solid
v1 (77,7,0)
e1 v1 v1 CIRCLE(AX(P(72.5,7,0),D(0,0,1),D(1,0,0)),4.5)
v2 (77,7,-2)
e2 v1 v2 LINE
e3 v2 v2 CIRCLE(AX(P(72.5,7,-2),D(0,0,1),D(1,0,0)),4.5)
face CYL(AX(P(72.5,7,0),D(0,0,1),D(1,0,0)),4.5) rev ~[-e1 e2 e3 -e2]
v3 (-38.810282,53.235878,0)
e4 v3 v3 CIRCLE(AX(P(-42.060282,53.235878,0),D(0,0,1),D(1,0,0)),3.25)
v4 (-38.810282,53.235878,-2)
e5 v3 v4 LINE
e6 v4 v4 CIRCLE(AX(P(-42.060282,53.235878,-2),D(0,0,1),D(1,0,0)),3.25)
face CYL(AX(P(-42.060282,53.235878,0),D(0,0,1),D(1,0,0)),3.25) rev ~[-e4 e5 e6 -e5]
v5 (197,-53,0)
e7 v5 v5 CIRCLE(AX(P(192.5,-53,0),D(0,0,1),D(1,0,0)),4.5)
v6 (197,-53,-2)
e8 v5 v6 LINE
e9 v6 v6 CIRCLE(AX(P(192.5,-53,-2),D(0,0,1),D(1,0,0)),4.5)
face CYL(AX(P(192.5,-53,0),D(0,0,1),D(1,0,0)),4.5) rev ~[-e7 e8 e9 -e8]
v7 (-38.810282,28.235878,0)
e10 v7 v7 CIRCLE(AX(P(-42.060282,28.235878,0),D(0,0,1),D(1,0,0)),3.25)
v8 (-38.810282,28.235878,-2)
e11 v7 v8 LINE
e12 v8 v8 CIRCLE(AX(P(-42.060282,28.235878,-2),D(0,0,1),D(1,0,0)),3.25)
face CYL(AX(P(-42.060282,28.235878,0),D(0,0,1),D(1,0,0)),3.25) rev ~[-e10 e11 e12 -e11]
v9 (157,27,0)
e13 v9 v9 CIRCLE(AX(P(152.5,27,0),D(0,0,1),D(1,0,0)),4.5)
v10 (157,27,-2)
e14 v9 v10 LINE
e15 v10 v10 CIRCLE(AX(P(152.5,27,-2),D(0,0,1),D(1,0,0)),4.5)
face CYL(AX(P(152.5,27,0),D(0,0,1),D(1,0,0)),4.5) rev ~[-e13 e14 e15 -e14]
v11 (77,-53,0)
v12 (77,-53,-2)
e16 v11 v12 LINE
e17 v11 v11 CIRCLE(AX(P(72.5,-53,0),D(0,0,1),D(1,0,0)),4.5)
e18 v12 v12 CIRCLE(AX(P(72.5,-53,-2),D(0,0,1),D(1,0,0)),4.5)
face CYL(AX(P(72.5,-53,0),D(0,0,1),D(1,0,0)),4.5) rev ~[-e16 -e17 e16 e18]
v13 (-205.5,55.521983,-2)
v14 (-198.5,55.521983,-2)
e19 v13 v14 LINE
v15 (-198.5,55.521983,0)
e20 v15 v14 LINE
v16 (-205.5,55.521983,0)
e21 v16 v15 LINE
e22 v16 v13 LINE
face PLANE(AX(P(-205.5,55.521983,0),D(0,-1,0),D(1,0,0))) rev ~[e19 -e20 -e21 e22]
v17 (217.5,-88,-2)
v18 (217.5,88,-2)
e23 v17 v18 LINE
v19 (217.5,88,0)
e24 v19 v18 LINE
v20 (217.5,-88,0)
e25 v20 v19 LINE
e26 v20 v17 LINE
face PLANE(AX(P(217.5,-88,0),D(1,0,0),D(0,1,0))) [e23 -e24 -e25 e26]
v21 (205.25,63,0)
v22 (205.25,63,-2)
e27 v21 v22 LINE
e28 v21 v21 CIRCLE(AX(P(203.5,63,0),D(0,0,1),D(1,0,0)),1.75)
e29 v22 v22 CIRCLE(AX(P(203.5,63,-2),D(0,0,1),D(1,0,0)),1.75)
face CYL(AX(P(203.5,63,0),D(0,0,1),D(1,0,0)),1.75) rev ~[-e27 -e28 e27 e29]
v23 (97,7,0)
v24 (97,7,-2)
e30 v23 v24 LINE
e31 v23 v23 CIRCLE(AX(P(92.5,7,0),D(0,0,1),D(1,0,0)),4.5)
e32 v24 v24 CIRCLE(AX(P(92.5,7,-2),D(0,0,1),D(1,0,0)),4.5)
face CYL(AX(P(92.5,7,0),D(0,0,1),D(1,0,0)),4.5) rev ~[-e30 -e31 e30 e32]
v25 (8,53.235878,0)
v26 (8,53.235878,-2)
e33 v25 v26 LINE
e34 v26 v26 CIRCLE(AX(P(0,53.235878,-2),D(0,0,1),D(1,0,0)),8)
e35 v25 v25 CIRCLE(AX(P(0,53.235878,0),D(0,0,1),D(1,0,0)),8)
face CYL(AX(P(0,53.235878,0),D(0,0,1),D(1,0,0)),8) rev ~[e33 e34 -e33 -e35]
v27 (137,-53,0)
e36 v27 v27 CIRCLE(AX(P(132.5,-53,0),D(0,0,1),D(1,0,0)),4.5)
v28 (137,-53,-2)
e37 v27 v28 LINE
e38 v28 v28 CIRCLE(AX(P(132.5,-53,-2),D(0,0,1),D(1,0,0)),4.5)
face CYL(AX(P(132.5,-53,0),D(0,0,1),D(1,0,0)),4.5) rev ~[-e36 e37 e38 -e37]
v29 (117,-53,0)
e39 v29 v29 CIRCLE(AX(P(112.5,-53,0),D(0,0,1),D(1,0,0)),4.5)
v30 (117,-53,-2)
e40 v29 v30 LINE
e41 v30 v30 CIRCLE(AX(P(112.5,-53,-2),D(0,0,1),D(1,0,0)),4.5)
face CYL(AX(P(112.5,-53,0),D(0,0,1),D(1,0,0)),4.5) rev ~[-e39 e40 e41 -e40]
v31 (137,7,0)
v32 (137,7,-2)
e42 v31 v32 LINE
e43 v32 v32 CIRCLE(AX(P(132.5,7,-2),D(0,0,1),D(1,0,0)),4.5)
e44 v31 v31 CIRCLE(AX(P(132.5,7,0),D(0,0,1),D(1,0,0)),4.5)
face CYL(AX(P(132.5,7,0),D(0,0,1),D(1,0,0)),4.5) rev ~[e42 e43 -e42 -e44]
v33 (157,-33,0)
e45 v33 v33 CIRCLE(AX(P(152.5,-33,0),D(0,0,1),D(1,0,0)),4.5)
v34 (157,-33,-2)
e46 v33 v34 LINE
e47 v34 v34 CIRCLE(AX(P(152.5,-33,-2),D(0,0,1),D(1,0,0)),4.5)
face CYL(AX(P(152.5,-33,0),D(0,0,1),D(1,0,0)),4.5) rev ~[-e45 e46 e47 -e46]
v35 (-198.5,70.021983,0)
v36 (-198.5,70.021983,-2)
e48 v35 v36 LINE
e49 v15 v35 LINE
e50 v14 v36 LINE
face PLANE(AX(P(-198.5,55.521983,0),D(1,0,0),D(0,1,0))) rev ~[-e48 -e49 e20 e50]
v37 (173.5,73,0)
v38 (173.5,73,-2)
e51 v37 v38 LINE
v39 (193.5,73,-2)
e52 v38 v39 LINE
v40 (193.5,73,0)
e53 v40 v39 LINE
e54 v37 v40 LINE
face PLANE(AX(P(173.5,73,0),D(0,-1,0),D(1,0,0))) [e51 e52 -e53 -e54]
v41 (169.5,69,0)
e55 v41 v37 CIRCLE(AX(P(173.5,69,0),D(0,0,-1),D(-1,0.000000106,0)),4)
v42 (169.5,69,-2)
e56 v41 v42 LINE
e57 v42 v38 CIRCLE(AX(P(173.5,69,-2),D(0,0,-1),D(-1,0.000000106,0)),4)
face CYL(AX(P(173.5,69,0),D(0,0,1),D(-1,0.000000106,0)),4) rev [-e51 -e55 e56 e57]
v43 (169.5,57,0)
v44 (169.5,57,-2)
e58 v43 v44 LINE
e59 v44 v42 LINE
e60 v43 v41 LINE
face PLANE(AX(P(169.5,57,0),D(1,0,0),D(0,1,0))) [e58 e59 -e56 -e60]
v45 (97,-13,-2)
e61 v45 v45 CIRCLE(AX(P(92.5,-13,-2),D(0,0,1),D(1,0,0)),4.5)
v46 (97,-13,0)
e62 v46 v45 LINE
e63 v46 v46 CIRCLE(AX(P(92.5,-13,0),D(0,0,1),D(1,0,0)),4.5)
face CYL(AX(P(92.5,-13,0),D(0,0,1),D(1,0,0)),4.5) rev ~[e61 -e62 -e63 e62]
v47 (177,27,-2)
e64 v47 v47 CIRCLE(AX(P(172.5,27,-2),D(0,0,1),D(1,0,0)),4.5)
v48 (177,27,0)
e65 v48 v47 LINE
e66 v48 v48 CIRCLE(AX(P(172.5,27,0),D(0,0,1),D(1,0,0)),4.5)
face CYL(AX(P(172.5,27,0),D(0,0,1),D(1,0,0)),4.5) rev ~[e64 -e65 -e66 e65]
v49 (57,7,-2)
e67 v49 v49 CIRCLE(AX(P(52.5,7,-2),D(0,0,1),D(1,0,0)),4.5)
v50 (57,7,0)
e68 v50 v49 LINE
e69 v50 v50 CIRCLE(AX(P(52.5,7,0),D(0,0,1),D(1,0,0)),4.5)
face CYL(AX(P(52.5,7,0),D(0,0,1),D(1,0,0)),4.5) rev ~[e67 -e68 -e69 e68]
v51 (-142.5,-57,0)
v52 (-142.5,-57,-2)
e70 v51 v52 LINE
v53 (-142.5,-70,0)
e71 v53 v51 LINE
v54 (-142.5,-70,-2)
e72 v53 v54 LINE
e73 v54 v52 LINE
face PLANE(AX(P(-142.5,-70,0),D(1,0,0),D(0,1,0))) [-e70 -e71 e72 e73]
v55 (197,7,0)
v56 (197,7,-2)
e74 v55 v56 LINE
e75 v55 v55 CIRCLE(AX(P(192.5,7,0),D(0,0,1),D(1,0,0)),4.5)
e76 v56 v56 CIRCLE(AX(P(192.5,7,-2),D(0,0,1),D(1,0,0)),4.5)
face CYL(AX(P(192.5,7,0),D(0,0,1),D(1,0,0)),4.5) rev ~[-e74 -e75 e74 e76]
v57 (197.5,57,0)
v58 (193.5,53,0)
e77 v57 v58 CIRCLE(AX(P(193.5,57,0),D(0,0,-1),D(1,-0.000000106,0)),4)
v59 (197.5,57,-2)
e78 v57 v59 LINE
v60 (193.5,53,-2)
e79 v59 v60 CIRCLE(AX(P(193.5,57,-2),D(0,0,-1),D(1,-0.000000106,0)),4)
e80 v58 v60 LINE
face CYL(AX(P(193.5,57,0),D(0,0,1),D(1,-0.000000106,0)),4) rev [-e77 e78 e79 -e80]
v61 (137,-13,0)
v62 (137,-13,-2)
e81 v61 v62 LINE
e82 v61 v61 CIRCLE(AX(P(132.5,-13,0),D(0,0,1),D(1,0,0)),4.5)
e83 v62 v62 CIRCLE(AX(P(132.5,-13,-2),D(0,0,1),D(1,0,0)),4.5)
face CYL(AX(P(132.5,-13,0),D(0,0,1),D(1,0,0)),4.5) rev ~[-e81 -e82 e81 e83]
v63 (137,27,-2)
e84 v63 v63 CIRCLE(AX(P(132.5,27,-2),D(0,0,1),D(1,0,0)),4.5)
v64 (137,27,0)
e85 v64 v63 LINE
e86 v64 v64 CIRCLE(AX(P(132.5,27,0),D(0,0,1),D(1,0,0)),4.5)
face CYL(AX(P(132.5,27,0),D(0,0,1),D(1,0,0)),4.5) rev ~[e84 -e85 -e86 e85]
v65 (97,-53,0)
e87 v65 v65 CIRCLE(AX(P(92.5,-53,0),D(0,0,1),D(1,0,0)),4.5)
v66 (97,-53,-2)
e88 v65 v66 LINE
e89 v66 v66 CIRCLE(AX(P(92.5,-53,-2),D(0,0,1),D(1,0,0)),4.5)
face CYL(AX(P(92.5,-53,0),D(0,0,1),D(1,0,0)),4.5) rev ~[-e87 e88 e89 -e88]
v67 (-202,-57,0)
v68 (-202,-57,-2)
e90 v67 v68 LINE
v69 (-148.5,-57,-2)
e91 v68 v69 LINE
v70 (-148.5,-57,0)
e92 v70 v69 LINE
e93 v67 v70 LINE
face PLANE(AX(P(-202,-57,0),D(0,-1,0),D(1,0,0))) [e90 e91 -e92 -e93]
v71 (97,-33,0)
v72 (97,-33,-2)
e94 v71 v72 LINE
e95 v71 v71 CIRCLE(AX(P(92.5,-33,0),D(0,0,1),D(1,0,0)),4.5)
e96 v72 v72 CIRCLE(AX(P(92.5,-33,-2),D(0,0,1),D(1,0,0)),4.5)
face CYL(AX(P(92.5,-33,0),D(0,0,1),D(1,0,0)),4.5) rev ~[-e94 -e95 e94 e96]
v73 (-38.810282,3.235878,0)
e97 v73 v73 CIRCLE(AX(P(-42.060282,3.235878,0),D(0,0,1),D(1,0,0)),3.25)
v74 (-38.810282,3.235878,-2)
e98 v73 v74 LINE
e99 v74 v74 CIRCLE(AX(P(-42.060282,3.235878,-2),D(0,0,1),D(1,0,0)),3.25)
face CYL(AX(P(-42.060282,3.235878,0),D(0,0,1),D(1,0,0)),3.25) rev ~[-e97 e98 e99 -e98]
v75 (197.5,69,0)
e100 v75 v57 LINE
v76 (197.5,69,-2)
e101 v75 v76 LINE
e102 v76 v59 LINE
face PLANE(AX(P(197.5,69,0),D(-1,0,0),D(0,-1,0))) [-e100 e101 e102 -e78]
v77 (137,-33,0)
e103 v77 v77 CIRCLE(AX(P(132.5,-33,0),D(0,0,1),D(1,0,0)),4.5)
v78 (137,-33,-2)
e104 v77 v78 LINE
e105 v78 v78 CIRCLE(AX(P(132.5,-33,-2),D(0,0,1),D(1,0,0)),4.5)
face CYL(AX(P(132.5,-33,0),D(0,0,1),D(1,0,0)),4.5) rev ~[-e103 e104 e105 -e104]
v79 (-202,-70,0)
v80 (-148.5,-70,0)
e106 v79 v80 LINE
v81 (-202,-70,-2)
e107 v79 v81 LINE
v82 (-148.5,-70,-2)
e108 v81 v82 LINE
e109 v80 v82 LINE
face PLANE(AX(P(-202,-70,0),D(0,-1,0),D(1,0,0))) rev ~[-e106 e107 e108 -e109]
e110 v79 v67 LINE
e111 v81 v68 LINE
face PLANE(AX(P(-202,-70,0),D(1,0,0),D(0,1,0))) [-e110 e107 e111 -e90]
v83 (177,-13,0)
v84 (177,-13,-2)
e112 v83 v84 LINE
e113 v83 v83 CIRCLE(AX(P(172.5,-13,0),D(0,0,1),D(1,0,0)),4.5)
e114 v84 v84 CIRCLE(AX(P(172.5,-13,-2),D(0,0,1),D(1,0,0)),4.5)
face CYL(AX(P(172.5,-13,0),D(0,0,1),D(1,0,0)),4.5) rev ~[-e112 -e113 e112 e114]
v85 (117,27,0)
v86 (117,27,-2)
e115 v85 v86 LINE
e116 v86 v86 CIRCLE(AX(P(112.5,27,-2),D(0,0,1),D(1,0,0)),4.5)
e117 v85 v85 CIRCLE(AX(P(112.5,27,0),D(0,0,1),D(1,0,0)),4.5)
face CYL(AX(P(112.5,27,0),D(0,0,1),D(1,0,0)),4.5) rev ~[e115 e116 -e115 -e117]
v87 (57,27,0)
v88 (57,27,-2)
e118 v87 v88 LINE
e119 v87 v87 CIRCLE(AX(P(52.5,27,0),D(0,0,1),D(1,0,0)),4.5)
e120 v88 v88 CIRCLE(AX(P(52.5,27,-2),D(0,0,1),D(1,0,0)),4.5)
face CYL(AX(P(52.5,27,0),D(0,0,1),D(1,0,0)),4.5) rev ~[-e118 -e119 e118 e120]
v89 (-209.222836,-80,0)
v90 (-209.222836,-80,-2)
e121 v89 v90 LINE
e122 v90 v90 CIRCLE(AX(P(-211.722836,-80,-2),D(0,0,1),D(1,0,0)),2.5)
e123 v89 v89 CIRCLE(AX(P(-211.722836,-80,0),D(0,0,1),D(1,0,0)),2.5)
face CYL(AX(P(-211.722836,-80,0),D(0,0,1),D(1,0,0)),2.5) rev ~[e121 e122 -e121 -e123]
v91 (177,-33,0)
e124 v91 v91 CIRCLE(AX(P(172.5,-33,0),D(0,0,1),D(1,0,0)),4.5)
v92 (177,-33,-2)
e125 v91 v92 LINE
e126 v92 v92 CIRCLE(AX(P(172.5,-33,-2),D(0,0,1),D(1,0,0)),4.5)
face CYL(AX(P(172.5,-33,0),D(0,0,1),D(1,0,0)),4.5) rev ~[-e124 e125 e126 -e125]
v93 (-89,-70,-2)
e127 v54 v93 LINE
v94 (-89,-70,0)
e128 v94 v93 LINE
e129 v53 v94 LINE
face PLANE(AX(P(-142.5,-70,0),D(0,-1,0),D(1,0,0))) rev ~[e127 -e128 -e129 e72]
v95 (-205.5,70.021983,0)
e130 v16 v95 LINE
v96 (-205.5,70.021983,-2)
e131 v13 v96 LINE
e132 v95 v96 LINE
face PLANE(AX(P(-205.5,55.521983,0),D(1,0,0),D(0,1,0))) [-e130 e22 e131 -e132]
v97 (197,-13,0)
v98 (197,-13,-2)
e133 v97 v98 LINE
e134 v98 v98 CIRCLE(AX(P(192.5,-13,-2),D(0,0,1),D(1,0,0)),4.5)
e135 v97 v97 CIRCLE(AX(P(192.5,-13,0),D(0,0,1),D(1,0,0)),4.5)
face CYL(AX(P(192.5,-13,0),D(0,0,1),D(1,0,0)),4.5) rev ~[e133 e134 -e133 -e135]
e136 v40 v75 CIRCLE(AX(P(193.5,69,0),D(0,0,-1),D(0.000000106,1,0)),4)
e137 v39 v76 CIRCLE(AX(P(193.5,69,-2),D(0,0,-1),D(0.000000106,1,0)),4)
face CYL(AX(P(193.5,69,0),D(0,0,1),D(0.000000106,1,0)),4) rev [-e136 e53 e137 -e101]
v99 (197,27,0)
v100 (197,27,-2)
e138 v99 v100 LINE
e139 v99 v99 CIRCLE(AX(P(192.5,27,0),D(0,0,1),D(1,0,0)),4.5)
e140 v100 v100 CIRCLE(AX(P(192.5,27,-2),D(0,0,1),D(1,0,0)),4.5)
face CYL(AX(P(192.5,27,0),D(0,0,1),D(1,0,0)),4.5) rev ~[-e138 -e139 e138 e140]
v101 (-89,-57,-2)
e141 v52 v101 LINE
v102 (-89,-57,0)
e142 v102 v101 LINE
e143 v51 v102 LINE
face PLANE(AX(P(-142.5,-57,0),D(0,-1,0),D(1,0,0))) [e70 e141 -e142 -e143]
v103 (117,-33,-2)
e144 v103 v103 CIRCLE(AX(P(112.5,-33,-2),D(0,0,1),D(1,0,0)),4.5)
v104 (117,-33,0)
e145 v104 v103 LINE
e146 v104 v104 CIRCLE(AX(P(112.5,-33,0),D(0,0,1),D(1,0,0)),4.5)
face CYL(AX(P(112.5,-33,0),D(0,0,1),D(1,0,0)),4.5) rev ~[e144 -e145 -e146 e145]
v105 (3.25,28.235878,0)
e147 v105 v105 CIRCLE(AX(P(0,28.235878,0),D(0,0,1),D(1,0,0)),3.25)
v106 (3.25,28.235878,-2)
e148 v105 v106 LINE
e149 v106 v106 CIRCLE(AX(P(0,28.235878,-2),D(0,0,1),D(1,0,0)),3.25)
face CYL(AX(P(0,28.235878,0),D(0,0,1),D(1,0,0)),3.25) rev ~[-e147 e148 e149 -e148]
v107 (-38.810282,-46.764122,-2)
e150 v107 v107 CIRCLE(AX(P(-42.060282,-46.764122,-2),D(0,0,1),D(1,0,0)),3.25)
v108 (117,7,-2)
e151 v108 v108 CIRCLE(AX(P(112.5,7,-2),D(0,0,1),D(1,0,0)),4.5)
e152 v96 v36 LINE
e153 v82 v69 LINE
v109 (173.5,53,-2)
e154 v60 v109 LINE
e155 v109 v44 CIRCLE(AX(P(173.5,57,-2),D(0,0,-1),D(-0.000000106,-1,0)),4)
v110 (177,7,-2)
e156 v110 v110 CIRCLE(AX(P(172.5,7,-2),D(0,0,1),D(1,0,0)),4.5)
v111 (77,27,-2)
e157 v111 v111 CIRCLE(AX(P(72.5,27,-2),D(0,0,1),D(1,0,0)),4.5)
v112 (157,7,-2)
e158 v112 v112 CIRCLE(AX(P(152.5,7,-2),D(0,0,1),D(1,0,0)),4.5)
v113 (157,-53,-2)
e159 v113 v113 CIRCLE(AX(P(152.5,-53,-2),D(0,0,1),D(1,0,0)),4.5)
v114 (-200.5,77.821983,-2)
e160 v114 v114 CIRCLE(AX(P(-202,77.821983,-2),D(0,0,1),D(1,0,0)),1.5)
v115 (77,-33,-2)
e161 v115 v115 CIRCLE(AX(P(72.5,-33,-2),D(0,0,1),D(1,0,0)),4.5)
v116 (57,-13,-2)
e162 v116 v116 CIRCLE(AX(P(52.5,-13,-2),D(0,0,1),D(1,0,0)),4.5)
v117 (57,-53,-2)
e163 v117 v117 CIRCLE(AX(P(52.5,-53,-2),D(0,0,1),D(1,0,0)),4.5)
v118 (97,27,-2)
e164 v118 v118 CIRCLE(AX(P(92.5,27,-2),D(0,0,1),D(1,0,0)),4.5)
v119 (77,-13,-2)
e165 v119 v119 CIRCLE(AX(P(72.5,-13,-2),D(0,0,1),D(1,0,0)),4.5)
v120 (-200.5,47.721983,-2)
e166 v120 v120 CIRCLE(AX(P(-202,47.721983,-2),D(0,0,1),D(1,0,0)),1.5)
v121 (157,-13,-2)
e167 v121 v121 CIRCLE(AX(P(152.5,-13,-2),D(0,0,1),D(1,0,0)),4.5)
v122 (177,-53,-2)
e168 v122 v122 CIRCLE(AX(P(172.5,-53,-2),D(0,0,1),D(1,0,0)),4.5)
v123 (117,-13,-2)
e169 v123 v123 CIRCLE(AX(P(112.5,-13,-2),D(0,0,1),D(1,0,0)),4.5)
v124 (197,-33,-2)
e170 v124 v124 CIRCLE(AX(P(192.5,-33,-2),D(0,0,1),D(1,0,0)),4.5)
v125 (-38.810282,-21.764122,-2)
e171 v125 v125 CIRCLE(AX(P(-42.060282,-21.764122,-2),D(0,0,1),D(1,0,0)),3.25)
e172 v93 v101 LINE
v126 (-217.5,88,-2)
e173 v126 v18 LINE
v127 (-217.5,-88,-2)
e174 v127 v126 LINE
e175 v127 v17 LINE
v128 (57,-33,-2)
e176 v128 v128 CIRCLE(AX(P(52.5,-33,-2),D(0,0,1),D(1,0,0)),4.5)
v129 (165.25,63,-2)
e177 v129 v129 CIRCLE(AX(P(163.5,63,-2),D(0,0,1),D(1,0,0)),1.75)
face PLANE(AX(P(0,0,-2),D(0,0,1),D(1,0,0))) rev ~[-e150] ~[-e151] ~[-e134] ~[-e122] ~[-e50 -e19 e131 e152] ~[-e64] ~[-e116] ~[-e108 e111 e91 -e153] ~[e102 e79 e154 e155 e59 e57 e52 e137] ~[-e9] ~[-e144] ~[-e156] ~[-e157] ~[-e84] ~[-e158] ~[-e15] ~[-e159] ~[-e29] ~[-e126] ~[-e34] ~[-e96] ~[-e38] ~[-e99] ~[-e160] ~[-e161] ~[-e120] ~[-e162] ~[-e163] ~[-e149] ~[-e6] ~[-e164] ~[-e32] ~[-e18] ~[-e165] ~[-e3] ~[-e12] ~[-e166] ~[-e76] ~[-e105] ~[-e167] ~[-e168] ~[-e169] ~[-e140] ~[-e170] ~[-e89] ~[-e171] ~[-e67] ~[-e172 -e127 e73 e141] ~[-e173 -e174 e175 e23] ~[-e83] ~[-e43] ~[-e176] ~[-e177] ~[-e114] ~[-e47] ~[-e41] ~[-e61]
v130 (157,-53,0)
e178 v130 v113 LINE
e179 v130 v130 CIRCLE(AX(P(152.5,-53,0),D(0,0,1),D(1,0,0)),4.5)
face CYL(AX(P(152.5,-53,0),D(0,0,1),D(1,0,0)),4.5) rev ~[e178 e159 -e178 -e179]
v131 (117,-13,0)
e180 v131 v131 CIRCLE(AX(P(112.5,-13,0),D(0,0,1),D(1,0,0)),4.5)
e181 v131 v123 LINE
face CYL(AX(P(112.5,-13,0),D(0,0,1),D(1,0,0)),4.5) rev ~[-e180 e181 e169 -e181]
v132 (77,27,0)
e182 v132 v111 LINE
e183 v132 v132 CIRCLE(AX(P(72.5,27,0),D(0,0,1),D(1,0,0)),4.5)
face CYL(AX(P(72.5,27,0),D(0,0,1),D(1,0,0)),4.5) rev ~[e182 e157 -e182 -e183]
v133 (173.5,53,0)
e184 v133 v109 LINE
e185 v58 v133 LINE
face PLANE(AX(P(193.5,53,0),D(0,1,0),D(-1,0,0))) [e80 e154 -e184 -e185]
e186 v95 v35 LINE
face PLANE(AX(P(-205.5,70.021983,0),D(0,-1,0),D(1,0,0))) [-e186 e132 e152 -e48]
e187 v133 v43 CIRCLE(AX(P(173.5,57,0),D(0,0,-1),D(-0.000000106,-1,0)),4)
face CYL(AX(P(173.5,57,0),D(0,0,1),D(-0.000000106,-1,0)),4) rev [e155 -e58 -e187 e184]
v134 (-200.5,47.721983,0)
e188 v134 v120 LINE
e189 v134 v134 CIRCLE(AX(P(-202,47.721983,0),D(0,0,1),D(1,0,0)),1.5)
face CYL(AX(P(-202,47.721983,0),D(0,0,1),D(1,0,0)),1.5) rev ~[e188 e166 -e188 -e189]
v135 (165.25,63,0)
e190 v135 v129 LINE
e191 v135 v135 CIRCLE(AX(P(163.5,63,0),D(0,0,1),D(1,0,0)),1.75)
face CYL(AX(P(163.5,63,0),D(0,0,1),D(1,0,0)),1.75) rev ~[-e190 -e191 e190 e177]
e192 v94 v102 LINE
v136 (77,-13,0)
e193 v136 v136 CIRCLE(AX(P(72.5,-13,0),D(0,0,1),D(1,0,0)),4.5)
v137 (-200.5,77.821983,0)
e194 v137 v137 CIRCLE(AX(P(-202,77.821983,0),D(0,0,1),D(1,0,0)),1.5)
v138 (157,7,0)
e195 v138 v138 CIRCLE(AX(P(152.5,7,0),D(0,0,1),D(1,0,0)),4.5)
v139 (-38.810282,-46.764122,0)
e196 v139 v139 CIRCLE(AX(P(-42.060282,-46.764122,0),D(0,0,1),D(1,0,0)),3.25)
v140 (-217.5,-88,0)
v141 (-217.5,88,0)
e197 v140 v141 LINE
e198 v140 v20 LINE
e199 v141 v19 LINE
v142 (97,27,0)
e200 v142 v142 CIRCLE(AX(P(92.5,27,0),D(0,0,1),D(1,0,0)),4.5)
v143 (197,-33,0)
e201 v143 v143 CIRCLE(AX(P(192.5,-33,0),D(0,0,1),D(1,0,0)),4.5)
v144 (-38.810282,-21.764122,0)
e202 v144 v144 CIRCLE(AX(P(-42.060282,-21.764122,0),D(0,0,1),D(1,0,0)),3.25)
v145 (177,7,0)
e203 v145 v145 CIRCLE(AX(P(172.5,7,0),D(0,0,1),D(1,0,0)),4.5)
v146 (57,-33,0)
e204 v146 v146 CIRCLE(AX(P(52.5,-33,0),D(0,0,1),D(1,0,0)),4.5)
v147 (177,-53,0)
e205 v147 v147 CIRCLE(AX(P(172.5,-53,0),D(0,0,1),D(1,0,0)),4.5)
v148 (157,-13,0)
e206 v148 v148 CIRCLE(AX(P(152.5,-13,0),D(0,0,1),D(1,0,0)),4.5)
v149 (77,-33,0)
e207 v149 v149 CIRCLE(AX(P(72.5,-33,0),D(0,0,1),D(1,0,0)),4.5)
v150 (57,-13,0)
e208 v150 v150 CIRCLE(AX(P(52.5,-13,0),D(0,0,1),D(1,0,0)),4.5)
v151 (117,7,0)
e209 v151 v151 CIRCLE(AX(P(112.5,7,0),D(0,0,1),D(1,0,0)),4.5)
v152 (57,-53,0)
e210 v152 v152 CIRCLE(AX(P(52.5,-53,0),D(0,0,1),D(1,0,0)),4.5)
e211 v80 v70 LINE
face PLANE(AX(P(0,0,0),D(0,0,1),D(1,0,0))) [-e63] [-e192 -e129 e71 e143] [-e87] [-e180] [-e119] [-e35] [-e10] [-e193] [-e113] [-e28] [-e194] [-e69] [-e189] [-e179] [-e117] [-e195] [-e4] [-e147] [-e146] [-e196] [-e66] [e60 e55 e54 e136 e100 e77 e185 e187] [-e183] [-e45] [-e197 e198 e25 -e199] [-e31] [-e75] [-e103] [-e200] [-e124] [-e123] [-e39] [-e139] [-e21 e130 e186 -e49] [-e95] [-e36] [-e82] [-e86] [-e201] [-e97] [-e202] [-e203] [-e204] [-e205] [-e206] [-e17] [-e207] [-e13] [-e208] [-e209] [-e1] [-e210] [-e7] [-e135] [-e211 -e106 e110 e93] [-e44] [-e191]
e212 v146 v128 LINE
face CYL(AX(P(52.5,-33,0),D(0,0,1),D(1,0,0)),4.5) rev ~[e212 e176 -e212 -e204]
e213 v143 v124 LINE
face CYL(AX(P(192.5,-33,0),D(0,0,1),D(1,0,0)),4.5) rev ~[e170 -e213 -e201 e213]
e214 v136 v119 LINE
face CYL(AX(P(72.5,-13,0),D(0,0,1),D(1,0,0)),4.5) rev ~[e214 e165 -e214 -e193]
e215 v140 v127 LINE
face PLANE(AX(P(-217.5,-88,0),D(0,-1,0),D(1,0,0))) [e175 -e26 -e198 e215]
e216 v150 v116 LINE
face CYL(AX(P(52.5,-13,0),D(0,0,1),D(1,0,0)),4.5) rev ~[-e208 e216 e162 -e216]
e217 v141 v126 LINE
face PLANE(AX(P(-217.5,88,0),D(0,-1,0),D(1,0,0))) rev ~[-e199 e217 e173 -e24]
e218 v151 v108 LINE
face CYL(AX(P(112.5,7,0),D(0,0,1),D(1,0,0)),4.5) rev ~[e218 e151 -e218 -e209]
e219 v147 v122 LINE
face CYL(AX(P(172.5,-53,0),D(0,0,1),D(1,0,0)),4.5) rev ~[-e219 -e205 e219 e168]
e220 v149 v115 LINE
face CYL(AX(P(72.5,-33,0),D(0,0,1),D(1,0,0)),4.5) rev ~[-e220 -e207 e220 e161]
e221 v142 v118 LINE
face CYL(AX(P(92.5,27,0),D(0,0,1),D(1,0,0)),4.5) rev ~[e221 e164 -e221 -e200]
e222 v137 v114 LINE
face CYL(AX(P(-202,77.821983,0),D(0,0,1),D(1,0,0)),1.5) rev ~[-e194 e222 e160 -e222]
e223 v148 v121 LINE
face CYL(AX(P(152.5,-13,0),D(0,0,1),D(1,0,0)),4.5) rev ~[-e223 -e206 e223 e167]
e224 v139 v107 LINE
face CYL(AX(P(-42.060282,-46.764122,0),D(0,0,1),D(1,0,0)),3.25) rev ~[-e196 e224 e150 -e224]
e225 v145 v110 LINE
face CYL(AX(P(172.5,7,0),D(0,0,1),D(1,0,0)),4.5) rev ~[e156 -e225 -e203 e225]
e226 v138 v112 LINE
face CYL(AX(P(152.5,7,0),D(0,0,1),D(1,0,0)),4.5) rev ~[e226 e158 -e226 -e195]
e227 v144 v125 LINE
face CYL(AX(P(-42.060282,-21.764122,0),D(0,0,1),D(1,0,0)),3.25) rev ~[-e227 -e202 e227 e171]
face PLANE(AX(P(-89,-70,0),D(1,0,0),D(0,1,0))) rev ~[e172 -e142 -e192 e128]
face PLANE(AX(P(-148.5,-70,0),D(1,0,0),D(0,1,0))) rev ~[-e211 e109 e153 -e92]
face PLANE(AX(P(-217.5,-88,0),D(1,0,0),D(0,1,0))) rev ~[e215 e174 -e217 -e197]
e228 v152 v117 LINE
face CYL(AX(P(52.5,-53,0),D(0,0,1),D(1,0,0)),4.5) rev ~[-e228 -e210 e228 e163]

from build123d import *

# Parameters (mm, degrees)
F0_W     = 435
F0_H     = 176
F0_R     = 2.5
F0_W_2   = 53.5
F0_H_2   = 13
F0_R_2   = 3.25
F0_R_3   = 4.5
F0_R_4   = 1.5
F0_W_3   = 7
F0_H_3   = 14.5
F0_R_5   = 8
F0_R_6   = 1.75
F1_DEPTH = 2


with BuildPart() as f1:
    # F0 (on Top) → F1 (new body)
    with BuildSketch(Plane.XY):
        Rectangle(F0_W, F0_H)
        with Locations((-211.722836, -80)):
            Circle(F0_R, mode=Mode.SUBTRACT)
        with Locations((-175.25, -63.5)):
            Rectangle(F0_W_2, F0_H_2, mode=Mode.SUBTRACT)
        with Locations((-115.75, -63.5)):
            Rectangle(F0_W_2, F0_H_2, mode=Mode.SUBTRACT)
        with Locations((-42.060282, -46.764122)):
            Circle(F0_R_2, mode=Mode.SUBTRACT)
        with Locations((-42.060282, -21.764122)):
            Circle(F0_R_2, mode=Mode.SUBTRACT)
        with Locations((52.5, -53)):
            Circle(F0_R_3, mode=Mode.SUBTRACT)
        with Locations((72.5, -53)):
            Circle(F0_R_3, mode=Mode.SUBTRACT)
        with Locations((92.5, -53)):
            Circle(F0_R_3, mode=Mode.SUBTRACT)
        with Locations((112.5, -53)):
            Circle(F0_R_3, mode=Mode.SUBTRACT)
        with Locations((132.5, -53)):
            Circle(F0_R_3, mode=Mode.SUBTRACT)
        with Locations((152.5, -53)):
            Circle(F0_R_3, mode=Mode.SUBTRACT)
        with Locations((172.5, -53)):
            Circle(F0_R_3, mode=Mode.SUBTRACT)
        with Locations((192.5, -53)):
            Circle(F0_R_3, mode=Mode.SUBTRACT)
        with Locations((52.5, -33)):
            Circle(F0_R_3, mode=Mode.SUBTRACT)
        with Locations((72.5, -33)):
            Circle(F0_R_3, mode=Mode.SUBTRACT)
        with Locations((92.5, -33)):
            Circle(F0_R_3, mode=Mode.SUBTRACT)
        with Locations((52.5, -13)):
            Circle(F0_R_3, mode=Mode.SUBTRACT)
        with Locations((72.5, -13)):
            Circle(F0_R_3, mode=Mode.SUBTRACT)
        with Locations((92.5, -13)):
            Circle(F0_R_3, mode=Mode.SUBTRACT)
        with Locations((112.5, -33)):
            Circle(F0_R_3, mode=Mode.SUBTRACT)
        with Locations((132.5, -33)):
            Circle(F0_R_3, mode=Mode.SUBTRACT)
        with Locations((152.5, -33)):
            Circle(F0_R_3, mode=Mode.SUBTRACT)
        with Locations((172.5, -33)):
            Circle(F0_R_3, mode=Mode.SUBTRACT)
        with Locations((192.5, -33)):
            Circle(F0_R_3, mode=Mode.SUBTRACT)
        with Locations((112.5, -13)):
            Circle(F0_R_3, mode=Mode.SUBTRACT)
        with Locations((132.5, -13)):
            Circle(F0_R_3, mode=Mode.SUBTRACT)
        with Locations((152.5, -13)):
            Circle(F0_R_3, mode=Mode.SUBTRACT)
        with Locations((172.5, -13)):
            Circle(F0_R_3, mode=Mode.SUBTRACT)
        with Locations((192.5, -13)):
            Circle(F0_R_3, mode=Mode.SUBTRACT)
        with Locations((-42.060282, 3.235878)):
            Circle(F0_R_2, mode=Mode.SUBTRACT)
        with Locations((-42.060282, 28.235878)):
            Circle(F0_R_2, mode=Mode.SUBTRACT)
        with Locations((-202, 47.721983)):
            Circle(F0_R_4, mode=Mode.SUBTRACT)
        with Locations((-202, 62.771983)):
            Rectangle(F0_W_3, F0_H_3, mode=Mode.SUBTRACT)
        with Locations((-202, 77.821983)):
            Circle(F0_R_4, mode=Mode.SUBTRACT)
        with Locations((-42.060282, 53.235878)):
            Circle(F0_R_2, mode=Mode.SUBTRACT)
        with Locations((52.5, 7)):
            Circle(F0_R_3, mode=Mode.SUBTRACT)
        with Locations((72.5, 7)):
            Circle(F0_R_3, mode=Mode.SUBTRACT)
        with Locations((92.5, 7)):
            Circle(F0_R_3, mode=Mode.SUBTRACT)
        with Locations((0, 28.235878)):
            Circle(F0_R_2, mode=Mode.SUBTRACT)
        with Locations((52.5, 27)):
            Circle(F0_R_3, mode=Mode.SUBTRACT)
        with Locations((72.5, 27)):
            Circle(F0_R_3, mode=Mode.SUBTRACT)
        with Locations((92.5, 27)):
            Circle(F0_R_3, mode=Mode.SUBTRACT)
        with Locations((112.5, 7)):
            Circle(F0_R_3, mode=Mode.SUBTRACT)
        with Locations((132.5, 7)):
            Circle(F0_R_3, mode=Mode.SUBTRACT)
        with Locations((152.5, 7)):
            Circle(F0_R_3, mode=Mode.SUBTRACT)
        with Locations((172.5, 7)):
            Circle(F0_R_3, mode=Mode.SUBTRACT)
        with Locations((192.5, 7)):
            Circle(F0_R_3, mode=Mode.SUBTRACT)
        with Locations((112.5, 27)):
            Circle(F0_R_3, mode=Mode.SUBTRACT)
        with Locations((132.5, 27)):
            Circle(F0_R_3, mode=Mode.SUBTRACT)
        with Locations((152.5, 27)):
            Circle(F0_R_3, mode=Mode.SUBTRACT)
        with Locations((172.5, 27)):
            Circle(F0_R_3, mode=Mode.SUBTRACT)
        with Locations((192.5, 27)):
            Circle(F0_R_3, mode=Mode.SUBTRACT)
        with Locations((0, 53.235878)):
            Circle(F0_R_5, mode=Mode.SUBTRACT)
        with Locations((163.5, 63)):
            Circle(F0_R_6, mode=Mode.SUBTRACT)
        with BuildLine():
            ThreePointArc((197.5, 57), (196.328427, 54.171573), (193.5, 53))
            Line((193.5, 53), (173.5, 53))
            ThreePointArc((173.5, 53), (170.671573, 54.171573), (169.5, 57))
            Line((169.5, 57), (169.5, 69))
            ThreePointArc((169.5, 69), (170.671573, 71.828427), (173.5, 73))
            Line((173.5, 73), (193.5, 73))
            ThreePointArc((193.5, 73), (196.328427, 71.828427), (197.5, 69))
            Line((197.5, 69), (197.5, 57))
        make_face(mode=Mode.SUBTRACT)
        with Locations((203.5, 63)):
            Circle(F0_R_6, mode=Mode.SUBTRACT)
    extrude(amount=-F1_DEPTH)


solid = f1.part
